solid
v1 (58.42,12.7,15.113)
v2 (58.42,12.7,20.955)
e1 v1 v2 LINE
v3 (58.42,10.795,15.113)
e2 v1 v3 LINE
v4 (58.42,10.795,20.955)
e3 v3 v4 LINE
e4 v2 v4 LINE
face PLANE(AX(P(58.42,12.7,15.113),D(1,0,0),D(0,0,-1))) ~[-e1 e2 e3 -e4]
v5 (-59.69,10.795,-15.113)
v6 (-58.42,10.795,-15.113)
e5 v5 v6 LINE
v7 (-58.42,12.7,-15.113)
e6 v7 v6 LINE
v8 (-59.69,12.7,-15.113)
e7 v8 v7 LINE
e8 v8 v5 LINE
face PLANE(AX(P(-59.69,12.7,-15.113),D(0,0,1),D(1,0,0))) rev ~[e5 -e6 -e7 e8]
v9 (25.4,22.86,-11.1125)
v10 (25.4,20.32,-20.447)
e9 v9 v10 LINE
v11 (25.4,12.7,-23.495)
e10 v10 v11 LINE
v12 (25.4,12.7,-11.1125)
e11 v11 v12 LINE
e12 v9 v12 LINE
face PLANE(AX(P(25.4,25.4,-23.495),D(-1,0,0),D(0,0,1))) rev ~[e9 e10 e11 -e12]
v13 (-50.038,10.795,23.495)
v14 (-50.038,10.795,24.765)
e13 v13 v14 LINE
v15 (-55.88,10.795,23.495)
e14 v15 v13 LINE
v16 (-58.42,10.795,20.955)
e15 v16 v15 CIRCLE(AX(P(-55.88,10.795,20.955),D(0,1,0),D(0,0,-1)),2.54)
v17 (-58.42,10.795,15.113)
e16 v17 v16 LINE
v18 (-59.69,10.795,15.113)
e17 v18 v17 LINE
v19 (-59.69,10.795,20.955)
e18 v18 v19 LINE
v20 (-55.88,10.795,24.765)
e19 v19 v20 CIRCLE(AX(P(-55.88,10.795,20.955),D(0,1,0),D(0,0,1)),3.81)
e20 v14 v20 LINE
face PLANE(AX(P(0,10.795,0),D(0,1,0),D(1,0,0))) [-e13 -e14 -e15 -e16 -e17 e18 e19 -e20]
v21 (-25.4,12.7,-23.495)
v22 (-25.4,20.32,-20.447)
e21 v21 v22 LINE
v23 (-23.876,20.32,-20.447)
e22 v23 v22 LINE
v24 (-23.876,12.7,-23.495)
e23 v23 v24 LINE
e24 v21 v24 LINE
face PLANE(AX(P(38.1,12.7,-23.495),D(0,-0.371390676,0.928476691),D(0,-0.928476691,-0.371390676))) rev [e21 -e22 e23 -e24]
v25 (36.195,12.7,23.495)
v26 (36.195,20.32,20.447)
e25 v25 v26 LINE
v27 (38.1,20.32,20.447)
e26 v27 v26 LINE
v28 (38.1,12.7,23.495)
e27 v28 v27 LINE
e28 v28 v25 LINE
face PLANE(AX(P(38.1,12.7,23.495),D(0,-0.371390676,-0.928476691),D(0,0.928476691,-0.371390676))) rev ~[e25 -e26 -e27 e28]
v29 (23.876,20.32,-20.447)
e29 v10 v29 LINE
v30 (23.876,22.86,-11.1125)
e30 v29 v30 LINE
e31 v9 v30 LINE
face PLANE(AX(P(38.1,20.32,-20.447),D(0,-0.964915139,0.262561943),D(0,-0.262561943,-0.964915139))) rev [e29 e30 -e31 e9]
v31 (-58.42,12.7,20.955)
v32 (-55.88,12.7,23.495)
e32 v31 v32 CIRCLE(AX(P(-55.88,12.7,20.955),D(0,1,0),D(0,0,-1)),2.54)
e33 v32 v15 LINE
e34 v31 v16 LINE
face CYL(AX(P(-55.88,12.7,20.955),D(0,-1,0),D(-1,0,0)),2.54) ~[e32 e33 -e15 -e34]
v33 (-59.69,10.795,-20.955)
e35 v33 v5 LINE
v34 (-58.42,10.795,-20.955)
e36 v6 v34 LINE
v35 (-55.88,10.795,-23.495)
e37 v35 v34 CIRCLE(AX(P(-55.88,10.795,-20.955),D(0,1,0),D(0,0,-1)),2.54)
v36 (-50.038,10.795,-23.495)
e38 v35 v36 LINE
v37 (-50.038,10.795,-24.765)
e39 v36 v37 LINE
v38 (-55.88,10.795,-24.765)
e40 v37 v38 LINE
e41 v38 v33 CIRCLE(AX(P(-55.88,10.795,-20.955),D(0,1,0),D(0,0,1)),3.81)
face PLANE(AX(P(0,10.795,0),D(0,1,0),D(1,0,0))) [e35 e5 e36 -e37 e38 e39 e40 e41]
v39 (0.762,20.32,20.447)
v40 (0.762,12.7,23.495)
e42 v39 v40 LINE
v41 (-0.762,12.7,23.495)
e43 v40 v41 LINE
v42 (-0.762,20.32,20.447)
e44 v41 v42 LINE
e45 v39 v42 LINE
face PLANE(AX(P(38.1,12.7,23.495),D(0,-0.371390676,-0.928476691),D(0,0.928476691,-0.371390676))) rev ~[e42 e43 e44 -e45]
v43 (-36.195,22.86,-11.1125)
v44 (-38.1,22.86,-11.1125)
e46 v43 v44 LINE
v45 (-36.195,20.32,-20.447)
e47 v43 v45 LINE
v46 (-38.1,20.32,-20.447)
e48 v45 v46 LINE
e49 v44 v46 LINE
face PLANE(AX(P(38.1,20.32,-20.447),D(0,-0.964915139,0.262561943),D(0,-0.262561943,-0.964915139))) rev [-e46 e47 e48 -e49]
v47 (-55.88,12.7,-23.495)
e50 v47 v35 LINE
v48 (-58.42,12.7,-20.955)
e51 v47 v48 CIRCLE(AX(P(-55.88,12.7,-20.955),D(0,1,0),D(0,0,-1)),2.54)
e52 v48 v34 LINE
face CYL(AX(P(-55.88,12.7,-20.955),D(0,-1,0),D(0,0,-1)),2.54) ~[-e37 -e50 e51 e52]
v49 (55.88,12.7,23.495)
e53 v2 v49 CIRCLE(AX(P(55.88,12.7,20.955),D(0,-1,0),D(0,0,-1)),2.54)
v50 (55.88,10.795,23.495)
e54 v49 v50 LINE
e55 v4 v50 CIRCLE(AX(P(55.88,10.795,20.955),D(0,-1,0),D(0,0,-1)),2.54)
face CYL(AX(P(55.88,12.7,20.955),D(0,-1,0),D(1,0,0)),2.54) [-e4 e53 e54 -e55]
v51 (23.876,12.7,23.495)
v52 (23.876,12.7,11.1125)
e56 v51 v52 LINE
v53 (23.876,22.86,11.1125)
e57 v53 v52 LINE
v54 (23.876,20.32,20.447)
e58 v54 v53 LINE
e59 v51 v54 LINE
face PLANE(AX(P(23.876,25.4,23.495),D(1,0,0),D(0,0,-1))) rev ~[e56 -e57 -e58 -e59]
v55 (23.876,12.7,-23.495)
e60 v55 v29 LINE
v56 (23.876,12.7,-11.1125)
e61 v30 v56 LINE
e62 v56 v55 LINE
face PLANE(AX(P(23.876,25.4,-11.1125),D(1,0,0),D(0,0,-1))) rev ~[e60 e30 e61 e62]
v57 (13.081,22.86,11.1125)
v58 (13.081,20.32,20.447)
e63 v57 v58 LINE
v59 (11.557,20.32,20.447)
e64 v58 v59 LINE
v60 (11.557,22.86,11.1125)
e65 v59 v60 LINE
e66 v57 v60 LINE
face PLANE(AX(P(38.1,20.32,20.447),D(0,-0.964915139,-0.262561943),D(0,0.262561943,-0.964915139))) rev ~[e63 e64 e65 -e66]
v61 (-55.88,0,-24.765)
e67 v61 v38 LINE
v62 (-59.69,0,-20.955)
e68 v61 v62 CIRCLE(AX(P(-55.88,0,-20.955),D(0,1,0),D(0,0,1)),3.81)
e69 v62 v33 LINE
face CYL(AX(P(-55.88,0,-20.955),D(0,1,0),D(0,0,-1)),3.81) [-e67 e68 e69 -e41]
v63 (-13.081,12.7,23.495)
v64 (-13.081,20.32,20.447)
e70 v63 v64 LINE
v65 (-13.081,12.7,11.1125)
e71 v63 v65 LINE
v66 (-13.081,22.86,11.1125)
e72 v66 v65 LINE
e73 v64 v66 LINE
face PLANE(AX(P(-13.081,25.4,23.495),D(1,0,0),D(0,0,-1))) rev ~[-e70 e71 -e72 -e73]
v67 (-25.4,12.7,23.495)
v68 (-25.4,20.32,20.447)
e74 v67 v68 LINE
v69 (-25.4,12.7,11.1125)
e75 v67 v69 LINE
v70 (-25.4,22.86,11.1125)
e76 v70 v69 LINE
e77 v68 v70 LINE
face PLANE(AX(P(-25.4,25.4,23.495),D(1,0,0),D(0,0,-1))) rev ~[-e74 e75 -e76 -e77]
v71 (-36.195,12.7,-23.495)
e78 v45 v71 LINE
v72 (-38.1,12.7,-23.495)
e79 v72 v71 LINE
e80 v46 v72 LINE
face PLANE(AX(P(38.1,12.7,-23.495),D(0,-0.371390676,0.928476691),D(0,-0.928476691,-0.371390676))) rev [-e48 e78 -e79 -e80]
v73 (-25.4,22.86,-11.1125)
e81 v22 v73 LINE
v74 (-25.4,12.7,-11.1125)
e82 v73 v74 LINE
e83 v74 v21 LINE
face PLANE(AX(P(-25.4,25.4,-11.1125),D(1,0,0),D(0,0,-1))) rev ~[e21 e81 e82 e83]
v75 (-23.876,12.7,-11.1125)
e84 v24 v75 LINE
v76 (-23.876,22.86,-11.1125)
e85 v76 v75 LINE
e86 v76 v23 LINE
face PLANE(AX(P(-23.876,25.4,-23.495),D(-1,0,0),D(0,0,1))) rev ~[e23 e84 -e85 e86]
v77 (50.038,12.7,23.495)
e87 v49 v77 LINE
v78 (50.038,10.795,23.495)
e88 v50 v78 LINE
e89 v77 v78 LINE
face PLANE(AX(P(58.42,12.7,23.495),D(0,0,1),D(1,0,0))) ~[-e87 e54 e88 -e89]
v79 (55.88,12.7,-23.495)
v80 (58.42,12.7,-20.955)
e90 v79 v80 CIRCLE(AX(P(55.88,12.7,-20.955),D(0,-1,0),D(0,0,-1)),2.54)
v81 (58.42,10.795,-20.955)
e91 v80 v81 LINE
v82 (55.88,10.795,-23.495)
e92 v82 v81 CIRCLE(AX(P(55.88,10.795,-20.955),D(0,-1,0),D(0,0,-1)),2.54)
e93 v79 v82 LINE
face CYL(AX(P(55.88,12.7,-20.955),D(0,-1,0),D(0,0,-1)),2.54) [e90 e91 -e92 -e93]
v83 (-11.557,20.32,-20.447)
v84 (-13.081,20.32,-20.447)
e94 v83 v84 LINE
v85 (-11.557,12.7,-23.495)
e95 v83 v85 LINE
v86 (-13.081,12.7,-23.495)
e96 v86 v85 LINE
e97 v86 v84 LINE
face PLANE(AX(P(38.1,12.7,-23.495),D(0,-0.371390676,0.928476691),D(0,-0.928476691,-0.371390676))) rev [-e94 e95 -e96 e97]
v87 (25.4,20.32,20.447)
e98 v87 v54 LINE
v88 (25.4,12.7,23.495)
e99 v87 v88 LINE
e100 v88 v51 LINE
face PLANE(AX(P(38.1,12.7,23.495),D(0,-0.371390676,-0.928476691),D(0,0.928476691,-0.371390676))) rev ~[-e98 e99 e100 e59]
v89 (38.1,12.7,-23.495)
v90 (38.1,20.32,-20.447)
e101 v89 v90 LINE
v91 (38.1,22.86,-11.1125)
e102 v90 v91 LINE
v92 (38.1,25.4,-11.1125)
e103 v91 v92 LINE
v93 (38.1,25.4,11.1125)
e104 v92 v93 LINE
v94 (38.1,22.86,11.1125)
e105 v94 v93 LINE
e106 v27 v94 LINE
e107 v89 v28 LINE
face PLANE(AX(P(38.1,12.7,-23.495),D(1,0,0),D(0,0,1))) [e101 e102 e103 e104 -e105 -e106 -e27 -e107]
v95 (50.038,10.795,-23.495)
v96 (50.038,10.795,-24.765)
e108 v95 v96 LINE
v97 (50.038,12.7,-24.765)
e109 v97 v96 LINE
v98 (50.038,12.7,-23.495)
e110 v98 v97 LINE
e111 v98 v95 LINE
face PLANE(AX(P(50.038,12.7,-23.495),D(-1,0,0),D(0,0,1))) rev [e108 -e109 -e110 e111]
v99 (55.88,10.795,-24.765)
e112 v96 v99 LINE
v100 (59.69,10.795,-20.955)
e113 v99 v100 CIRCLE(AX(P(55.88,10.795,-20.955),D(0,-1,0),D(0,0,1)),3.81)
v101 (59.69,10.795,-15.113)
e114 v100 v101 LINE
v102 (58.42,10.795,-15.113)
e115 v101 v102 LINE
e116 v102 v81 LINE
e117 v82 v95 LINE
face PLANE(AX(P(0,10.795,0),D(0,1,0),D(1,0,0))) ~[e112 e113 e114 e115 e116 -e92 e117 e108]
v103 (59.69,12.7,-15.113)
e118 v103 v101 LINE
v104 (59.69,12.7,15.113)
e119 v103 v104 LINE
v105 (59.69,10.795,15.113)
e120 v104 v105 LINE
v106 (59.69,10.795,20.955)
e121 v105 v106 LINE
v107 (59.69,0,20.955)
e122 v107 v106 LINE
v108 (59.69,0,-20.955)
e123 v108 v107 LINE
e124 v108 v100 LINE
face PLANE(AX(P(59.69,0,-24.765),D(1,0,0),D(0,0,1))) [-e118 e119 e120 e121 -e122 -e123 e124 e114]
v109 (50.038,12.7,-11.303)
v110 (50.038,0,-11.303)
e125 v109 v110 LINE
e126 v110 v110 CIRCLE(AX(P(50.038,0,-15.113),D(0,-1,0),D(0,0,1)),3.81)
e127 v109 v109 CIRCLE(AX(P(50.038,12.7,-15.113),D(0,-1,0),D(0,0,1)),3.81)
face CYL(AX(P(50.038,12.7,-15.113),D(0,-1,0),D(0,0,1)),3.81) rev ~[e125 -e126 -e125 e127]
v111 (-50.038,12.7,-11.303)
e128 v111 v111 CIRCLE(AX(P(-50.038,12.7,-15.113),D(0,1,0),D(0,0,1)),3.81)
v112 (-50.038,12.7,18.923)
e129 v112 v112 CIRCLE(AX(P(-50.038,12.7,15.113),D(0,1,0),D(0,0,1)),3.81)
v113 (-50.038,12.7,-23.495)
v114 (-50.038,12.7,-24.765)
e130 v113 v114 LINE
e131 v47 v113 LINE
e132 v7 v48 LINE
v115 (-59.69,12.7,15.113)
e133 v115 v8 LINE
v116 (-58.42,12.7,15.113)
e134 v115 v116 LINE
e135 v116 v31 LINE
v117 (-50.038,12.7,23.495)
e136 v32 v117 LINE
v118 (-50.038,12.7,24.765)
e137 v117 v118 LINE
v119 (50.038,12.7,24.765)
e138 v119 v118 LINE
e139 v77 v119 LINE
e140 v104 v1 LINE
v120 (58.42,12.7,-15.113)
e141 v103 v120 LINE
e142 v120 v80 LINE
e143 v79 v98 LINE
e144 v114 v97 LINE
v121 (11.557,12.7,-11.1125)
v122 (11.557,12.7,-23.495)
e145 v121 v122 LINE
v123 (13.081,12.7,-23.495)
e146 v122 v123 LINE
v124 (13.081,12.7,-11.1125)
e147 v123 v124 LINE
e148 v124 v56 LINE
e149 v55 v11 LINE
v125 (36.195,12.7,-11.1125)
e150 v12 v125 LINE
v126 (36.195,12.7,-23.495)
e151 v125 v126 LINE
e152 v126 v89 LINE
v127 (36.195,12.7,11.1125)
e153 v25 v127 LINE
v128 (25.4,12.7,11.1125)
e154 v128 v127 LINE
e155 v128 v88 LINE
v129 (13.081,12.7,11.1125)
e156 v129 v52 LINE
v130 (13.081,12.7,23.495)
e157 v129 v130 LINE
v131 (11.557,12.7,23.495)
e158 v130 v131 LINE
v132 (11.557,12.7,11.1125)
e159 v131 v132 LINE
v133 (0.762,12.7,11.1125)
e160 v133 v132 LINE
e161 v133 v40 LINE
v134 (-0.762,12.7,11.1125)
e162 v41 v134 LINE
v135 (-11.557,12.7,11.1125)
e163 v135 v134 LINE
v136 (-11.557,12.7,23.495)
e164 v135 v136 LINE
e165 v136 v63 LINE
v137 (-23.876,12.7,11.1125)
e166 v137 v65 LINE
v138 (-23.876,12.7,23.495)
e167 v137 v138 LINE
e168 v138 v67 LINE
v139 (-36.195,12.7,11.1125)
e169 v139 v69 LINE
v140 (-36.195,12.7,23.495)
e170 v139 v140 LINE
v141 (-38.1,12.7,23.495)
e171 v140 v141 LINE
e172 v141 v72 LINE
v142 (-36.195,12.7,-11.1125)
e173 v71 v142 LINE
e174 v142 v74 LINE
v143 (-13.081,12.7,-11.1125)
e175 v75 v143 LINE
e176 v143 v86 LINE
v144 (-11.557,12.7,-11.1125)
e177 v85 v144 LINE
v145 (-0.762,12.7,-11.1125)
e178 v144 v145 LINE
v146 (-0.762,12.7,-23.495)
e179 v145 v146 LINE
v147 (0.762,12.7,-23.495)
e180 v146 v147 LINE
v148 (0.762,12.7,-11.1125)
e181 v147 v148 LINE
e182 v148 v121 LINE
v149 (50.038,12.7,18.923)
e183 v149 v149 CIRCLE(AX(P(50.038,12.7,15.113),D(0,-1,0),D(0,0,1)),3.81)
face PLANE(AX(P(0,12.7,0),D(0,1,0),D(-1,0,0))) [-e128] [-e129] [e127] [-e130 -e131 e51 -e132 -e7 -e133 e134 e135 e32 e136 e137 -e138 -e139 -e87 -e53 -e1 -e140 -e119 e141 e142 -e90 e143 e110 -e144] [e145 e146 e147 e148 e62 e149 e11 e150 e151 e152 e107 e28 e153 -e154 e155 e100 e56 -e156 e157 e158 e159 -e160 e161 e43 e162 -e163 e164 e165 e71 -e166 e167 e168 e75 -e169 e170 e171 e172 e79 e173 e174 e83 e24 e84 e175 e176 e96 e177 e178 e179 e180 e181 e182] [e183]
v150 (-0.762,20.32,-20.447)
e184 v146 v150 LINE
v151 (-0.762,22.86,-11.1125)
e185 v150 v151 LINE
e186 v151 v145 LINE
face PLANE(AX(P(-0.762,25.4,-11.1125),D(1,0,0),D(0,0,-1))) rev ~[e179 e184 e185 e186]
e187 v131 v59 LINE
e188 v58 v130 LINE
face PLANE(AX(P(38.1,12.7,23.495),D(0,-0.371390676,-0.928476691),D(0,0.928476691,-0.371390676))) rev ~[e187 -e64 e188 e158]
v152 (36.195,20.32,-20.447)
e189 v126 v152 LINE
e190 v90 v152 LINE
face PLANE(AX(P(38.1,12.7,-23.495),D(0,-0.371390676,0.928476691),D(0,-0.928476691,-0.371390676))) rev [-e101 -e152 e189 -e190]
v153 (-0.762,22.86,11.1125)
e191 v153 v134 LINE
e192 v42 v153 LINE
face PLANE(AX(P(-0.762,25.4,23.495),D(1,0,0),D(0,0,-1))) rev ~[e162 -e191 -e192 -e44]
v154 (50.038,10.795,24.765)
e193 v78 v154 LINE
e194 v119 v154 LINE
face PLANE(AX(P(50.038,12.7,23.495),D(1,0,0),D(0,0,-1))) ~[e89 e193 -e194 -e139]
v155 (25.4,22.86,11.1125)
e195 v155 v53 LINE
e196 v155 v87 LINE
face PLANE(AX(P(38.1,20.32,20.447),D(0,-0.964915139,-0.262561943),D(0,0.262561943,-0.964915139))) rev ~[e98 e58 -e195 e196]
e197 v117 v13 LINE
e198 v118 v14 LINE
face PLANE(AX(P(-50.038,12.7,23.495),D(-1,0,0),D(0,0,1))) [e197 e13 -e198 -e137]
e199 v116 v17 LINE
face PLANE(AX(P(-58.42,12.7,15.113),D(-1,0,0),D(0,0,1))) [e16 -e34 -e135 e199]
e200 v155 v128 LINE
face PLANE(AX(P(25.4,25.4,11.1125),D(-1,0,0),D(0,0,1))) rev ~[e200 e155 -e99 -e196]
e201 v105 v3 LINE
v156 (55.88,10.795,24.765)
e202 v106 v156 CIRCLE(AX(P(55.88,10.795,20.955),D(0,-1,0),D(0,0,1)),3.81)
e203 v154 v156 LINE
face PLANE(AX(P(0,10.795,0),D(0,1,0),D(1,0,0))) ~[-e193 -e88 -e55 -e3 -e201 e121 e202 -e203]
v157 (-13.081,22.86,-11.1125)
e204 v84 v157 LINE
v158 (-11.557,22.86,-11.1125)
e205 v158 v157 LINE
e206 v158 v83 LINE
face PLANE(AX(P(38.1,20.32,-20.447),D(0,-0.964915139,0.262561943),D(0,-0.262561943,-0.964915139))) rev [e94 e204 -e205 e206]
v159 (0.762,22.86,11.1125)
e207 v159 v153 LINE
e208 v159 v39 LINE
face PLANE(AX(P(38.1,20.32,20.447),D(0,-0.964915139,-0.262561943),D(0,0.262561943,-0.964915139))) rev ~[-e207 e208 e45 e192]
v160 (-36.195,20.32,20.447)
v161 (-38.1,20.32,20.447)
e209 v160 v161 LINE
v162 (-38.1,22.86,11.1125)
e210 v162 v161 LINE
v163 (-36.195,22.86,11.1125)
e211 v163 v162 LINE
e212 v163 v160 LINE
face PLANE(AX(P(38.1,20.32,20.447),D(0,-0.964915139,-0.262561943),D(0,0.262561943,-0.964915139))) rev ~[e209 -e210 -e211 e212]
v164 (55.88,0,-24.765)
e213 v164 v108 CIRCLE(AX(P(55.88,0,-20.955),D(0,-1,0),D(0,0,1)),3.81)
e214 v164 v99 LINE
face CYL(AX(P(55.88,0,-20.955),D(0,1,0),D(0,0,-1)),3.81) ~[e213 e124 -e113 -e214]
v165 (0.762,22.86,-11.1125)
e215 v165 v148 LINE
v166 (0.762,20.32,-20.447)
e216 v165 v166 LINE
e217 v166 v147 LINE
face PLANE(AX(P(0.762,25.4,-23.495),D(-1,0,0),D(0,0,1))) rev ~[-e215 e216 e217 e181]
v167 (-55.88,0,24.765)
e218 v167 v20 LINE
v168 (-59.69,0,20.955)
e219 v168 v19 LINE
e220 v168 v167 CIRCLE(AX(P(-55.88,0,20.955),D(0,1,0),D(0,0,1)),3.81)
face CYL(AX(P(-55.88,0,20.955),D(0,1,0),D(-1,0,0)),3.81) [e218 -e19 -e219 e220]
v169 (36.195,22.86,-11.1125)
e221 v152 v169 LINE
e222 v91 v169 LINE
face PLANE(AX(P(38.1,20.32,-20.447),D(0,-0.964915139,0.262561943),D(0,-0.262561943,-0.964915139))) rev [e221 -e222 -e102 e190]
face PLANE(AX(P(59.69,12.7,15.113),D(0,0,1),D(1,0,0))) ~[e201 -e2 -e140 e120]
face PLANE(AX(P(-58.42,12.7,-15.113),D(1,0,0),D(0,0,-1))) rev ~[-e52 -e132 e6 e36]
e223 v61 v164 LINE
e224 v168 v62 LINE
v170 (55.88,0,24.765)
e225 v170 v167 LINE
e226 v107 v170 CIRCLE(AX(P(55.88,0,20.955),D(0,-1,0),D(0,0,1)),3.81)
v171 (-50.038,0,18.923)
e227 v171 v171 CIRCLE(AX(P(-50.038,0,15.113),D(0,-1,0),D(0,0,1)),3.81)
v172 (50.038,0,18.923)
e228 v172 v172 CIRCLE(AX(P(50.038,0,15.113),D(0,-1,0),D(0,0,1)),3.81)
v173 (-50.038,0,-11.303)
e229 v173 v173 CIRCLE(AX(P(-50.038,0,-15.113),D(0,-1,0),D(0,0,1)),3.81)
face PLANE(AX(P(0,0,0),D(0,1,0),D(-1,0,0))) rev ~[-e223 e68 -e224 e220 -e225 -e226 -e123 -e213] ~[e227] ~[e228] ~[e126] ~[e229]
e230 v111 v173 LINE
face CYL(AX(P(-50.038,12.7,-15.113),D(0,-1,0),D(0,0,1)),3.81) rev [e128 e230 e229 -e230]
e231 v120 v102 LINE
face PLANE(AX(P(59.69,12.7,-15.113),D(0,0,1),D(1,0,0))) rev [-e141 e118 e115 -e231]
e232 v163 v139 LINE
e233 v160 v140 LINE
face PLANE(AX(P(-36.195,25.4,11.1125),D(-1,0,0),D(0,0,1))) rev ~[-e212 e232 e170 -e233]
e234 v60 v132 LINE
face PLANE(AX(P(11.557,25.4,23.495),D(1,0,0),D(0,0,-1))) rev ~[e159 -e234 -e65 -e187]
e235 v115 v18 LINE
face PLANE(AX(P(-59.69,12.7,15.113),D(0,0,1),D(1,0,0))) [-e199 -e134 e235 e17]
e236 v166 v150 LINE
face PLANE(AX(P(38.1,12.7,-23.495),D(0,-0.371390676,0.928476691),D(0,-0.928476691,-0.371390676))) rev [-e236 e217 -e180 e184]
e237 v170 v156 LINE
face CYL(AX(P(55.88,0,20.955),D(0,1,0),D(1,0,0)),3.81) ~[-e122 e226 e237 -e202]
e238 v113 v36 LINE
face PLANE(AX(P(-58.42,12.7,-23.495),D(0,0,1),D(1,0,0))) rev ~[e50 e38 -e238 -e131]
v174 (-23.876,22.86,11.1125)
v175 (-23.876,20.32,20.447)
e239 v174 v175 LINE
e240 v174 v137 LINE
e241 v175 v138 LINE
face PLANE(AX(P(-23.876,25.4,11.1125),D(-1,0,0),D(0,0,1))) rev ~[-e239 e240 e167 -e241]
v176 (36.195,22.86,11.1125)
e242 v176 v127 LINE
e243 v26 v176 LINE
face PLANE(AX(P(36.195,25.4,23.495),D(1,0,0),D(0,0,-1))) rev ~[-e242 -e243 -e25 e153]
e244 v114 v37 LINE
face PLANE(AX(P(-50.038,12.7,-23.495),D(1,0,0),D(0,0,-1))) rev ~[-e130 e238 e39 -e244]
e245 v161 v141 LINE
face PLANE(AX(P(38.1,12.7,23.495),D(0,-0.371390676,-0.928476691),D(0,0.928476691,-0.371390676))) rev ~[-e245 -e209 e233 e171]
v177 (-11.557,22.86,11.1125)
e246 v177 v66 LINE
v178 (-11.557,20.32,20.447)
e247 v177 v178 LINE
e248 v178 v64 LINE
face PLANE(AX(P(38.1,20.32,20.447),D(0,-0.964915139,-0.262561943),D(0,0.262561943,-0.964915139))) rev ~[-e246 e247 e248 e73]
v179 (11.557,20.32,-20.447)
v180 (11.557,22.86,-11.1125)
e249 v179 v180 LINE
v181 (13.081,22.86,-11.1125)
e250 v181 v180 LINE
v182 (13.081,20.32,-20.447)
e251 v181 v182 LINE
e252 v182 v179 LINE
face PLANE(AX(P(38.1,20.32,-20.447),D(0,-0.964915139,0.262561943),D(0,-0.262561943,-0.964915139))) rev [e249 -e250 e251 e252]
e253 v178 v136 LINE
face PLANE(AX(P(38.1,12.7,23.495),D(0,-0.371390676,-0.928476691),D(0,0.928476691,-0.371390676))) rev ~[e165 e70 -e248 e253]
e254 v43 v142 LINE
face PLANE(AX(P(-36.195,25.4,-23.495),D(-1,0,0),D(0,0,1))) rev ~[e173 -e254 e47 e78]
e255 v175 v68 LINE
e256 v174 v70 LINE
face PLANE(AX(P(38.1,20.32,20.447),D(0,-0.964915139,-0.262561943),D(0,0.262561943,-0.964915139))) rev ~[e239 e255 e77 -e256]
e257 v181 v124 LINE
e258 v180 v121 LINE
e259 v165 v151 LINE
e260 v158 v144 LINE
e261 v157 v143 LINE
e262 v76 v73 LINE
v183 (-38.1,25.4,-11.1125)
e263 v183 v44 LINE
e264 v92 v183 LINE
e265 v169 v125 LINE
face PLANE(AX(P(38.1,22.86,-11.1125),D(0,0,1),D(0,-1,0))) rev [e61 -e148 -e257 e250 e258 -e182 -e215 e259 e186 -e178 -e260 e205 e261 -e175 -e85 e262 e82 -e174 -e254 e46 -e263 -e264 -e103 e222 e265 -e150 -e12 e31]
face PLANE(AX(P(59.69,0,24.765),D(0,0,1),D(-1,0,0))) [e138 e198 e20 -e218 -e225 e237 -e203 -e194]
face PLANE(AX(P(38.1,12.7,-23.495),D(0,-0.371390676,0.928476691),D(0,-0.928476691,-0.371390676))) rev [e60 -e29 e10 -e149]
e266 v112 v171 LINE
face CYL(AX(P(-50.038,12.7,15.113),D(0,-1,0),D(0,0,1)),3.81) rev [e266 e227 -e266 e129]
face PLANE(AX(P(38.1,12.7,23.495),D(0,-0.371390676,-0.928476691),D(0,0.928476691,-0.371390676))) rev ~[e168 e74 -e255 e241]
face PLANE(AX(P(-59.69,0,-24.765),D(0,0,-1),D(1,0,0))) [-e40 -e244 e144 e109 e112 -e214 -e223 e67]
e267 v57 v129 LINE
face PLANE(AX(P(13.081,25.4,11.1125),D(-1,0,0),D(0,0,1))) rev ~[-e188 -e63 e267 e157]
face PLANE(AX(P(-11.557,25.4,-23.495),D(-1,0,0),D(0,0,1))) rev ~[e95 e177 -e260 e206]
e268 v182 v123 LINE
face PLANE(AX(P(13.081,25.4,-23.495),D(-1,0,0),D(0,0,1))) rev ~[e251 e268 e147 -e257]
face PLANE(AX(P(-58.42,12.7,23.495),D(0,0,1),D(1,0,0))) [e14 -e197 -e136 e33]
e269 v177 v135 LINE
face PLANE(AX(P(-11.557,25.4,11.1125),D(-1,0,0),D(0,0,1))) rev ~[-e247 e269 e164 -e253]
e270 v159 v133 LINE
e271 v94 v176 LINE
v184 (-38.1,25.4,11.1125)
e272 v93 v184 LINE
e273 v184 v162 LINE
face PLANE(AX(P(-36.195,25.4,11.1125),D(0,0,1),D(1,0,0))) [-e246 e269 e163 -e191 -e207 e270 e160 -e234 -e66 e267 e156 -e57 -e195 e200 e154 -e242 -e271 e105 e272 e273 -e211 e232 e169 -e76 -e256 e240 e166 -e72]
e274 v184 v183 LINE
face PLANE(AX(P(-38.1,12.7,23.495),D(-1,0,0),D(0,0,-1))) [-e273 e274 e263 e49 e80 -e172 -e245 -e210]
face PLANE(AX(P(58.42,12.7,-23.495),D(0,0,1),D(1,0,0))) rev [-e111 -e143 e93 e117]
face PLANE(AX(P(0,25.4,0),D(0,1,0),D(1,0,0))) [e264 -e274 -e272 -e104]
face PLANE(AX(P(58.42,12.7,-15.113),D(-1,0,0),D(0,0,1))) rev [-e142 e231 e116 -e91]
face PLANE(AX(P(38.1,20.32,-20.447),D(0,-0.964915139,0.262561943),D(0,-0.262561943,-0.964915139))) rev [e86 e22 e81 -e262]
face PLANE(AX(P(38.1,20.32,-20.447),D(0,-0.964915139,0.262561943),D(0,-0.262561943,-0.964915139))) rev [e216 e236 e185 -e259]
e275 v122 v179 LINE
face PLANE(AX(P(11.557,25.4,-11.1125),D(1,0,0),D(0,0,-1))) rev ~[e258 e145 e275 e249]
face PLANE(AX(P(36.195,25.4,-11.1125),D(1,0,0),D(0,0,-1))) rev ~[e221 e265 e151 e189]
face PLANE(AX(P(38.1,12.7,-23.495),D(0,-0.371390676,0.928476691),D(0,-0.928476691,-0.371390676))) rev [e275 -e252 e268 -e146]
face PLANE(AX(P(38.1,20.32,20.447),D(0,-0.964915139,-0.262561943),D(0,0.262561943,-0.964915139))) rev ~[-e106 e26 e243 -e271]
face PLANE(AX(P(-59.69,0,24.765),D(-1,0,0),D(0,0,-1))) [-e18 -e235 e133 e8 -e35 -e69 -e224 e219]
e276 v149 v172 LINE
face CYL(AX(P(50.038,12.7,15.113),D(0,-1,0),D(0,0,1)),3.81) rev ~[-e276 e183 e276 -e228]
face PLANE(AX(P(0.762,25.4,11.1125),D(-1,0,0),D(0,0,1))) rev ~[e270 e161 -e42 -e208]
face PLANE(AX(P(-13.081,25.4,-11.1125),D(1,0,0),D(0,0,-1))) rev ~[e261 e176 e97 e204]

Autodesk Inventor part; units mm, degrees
ref_plane "YZ Plane" through (0, 0, 0) normal (1, 0, 0) x (0, 1, 0)
ref_plane "XZ Plane" through (0, 0, 0) normal (0, 1, 0) x (-1, 0, 0)
ref_plane "XY Plane" through (0, 0, 0) normal (0, 0, 1) x (1, 0, 0)
sketch "Sketch1" plane through (0, 0, 0) normal (0, 1, 0) x (-1, 0, 0)
  line L0 (59.69, -24.765) -> (-59.69, -24.765)
  line L1 (-59.69, -24.765) -> (-59.69, 24.765)
  line L2 (-59.69, 24.765) -> (59.69, 24.765)
  line L3 (59.69, 24.765) -> (59.69, -24.765)
  line L4 (59.69, -24.765) -> (-59.69, 24.765) construction
  line L5 (-59.69, -24.765) -> (59.69, 24.765) construction
  point P0 (0, 0)
  dimension "d0" = 119.38
  dimension "d1" = 59.69
  dimension "d2" = 49.53
  dimension "d3" = 24.765
extrude "Extrusion1" add sketch "Sketch1" along normal blind 12.7
sketch "Sketch2" plane through (0, 12.7, 0) normal (0, 1, 0) x (1, 0, 0)
  line L0 (38.1, -23.495) -> (-38.1, -23.495)
  line L1 (-38.1, -23.495) -> (-38.1, 23.495)
  line L2 (-38.1, 23.495) -> (38.1, 23.495)
  line L3 (38.1, 23.495) -> (38.1, -23.495)
  line L4 (59.69, -24.765) -> (59.69, 24.765) projected
  line L5 (-59.69, -24.765) -> (59.69, -24.765) projected
  line L6 (-59.69, 24.765) -> (-59.69, -24.765) projected
  point P0 (0, 0)
  dimension "d6" = 21.59
  dimension "d7" = 76.2
  dimension "d8" = 1.27
  dimension "d9" = 46.99
  dimension "d10" = 21.59
extrude "Extrusion2" add sketch "Sketch2" along normal blind 12.7
sketch "Sketch3" plane through (0, 25.4, 0) normal (0, 1, 0) x (1, 0, 0)
  line L0 (-38.1, 23.495) -> (38.1, 23.495) projected
  line L1 (36.195, 23.495) -> (25.4, 23.495)
  line L2 (25.4, 23.495) -> (25.4, 11.1125)
  line L3 (25.4, 11.1125) -> (36.195, 11.1125)
  line L4 (36.195, 11.1125) -> (36.195, 23.495)
  line L5 (38.1, -23.495) -> (38.1, 23.495) projected
  point P0 (0, 0)
  dimension "d13" = 1.905
  dimension "d14" = 10.795
  dimension "d15" = 11.1125
extrude "Extrusion3" cut sketch "Sketch3" against normal up to surface (12.7 mm away)
pattern_linear "Rectangular Pattern1" count 6 spacing 12.319 along (-1, 0, 0) count 2 spacing -34.6075 along (0, 0, -1) of "Extrusion3"
sketch "Sketch4" plane through (0, 12.7, 0) normal (0, 1, 0) x (1, 0, 0)
  line L0 (-59.69, 24.765) -> (-59.69, -24.765) projected
  line L1 (-59.69, -15.113) -> (-58.42, -15.113)
  line L2 (-58.42, -15.113) -> (-58.42, -23.495)
  line L3 (-58.42, -23.495) -> (-50.038, -23.495)
  line L4 (-50.038, -23.495) -> (-50.038, -24.765)
  line L5 (-50.038, -24.765) -> (-59.69, -24.765)
  line L6 (-59.69, -24.765) -> (-59.69, -15.113)
  line L7 (-59.69, 24.765) -> (-59.69, 15.113)
  line L8 (-59.69, 15.113) -> (-58.42, 15.113)
  line L9 (-58.42, 15.113) -> (-58.42, 23.495)
  line L10 (-58.42, 23.495) -> (-50.038, 23.495)
  line L11 (-50.038, 23.495) -> (-50.038, 24.765)
  line L12 (-50.038, 24.765) -> (-59.69, 24.765)
  point P0 (0, 0)
  dimension "d24" = 1.27
  dimension "d25" = 1.27
  dimension "d26" = 8.382
  dimension "d27" = 1.27
  dimension "d28" = 1.27
extrude "Extrusion4" cut sketch "Sketch4" against normal blind 1.905
mirror "Mirror1" about plane through (0, 0, 0) normal (1, 0, 0) of "Extrusion4"
sketch "Sketch5" plane through (0, 12.7, 0) normal (0, 1, 0) x (1, 0, 0)
  line L0 (-50.038, -24.765) -> (50.038, -24.765) projected
  line L1 (59.69, -15.113) -> (59.69, 15.113) projected
  line L2 (50.038, 24.765) -> (-50.038, 24.765) projected
  point P0 (0, 0)
  point P1 (50.038, -15.113)
  point P2 (50.038, 15.113)
  dimension "d38" = 9.652
  dimension "d39" = 9.652
  dimension "d40" = 9.652
  dimension "d41" = 9.652
hole "Hole1" at (50.038, 12.7, 15.113) at (50.038, 12.7, -15.113) direction (0, -1, 0) diameter 7.62 end through all
mirror "Mirror2" about plane through (0, 0, 0) normal (1, 0, 0) of "Hole1"
fillet "Fillet1" radius 3.81 4 edges at (59.69, 5.3975, -24.765) (59.69, 5.3975, 24.765) (-59.69, 5.3975, 24.765) (-59.69, 5.3975, -24.765)
fillet "Fillet1" radius 2.54 4 edges at (-58.42, 11.7475, -23.495) (-58.42, 11.7475, 23.495) (58.42, 11.7475, -23.495) (58.42, 11.7475, 23.495)
sketch "Sketch6" plane through (38.1, 12.7, 23.495) normal (1, 0, 0) x (0, 0, -1)
  line L0 (0, 0) -> (0, 12.7) projected
  line L1 (0, 0) -> (3.048, 7.62)
  line L2 (46.99, 12.7) -> (0, 12.7) projected
  line L3 (0, 12.7) -> (12.3825, 12.7)
  line L4 (0, 12.7) -> (0, 0)
  line L5 (2.54, 0) -> (8.382, 0) projected
  line L6 (3.048, 7.62) -> (12.3825, 10.16)
  line L7 (12.3825, 10.16) -> (12.3825, 12.7)
  point P0 (23.495, -12.7)
  point P1 (12.3825, 12.7)
  dimension "d44" = 7.62
  dimension "d45" = 12.3825
  dimension "d46" = 2.54
  dimension "d47" = 2.54
  dimension "d49" = 3.048
extrude "Extrusion5" cut sketch "Sketch6" against normal through all
mirror "Mirror3" about plane through (0, 0, 0) normal (0, 0, 1) of "Extrusion5"
properties part number "CO-1-01-12VoltFuse"
